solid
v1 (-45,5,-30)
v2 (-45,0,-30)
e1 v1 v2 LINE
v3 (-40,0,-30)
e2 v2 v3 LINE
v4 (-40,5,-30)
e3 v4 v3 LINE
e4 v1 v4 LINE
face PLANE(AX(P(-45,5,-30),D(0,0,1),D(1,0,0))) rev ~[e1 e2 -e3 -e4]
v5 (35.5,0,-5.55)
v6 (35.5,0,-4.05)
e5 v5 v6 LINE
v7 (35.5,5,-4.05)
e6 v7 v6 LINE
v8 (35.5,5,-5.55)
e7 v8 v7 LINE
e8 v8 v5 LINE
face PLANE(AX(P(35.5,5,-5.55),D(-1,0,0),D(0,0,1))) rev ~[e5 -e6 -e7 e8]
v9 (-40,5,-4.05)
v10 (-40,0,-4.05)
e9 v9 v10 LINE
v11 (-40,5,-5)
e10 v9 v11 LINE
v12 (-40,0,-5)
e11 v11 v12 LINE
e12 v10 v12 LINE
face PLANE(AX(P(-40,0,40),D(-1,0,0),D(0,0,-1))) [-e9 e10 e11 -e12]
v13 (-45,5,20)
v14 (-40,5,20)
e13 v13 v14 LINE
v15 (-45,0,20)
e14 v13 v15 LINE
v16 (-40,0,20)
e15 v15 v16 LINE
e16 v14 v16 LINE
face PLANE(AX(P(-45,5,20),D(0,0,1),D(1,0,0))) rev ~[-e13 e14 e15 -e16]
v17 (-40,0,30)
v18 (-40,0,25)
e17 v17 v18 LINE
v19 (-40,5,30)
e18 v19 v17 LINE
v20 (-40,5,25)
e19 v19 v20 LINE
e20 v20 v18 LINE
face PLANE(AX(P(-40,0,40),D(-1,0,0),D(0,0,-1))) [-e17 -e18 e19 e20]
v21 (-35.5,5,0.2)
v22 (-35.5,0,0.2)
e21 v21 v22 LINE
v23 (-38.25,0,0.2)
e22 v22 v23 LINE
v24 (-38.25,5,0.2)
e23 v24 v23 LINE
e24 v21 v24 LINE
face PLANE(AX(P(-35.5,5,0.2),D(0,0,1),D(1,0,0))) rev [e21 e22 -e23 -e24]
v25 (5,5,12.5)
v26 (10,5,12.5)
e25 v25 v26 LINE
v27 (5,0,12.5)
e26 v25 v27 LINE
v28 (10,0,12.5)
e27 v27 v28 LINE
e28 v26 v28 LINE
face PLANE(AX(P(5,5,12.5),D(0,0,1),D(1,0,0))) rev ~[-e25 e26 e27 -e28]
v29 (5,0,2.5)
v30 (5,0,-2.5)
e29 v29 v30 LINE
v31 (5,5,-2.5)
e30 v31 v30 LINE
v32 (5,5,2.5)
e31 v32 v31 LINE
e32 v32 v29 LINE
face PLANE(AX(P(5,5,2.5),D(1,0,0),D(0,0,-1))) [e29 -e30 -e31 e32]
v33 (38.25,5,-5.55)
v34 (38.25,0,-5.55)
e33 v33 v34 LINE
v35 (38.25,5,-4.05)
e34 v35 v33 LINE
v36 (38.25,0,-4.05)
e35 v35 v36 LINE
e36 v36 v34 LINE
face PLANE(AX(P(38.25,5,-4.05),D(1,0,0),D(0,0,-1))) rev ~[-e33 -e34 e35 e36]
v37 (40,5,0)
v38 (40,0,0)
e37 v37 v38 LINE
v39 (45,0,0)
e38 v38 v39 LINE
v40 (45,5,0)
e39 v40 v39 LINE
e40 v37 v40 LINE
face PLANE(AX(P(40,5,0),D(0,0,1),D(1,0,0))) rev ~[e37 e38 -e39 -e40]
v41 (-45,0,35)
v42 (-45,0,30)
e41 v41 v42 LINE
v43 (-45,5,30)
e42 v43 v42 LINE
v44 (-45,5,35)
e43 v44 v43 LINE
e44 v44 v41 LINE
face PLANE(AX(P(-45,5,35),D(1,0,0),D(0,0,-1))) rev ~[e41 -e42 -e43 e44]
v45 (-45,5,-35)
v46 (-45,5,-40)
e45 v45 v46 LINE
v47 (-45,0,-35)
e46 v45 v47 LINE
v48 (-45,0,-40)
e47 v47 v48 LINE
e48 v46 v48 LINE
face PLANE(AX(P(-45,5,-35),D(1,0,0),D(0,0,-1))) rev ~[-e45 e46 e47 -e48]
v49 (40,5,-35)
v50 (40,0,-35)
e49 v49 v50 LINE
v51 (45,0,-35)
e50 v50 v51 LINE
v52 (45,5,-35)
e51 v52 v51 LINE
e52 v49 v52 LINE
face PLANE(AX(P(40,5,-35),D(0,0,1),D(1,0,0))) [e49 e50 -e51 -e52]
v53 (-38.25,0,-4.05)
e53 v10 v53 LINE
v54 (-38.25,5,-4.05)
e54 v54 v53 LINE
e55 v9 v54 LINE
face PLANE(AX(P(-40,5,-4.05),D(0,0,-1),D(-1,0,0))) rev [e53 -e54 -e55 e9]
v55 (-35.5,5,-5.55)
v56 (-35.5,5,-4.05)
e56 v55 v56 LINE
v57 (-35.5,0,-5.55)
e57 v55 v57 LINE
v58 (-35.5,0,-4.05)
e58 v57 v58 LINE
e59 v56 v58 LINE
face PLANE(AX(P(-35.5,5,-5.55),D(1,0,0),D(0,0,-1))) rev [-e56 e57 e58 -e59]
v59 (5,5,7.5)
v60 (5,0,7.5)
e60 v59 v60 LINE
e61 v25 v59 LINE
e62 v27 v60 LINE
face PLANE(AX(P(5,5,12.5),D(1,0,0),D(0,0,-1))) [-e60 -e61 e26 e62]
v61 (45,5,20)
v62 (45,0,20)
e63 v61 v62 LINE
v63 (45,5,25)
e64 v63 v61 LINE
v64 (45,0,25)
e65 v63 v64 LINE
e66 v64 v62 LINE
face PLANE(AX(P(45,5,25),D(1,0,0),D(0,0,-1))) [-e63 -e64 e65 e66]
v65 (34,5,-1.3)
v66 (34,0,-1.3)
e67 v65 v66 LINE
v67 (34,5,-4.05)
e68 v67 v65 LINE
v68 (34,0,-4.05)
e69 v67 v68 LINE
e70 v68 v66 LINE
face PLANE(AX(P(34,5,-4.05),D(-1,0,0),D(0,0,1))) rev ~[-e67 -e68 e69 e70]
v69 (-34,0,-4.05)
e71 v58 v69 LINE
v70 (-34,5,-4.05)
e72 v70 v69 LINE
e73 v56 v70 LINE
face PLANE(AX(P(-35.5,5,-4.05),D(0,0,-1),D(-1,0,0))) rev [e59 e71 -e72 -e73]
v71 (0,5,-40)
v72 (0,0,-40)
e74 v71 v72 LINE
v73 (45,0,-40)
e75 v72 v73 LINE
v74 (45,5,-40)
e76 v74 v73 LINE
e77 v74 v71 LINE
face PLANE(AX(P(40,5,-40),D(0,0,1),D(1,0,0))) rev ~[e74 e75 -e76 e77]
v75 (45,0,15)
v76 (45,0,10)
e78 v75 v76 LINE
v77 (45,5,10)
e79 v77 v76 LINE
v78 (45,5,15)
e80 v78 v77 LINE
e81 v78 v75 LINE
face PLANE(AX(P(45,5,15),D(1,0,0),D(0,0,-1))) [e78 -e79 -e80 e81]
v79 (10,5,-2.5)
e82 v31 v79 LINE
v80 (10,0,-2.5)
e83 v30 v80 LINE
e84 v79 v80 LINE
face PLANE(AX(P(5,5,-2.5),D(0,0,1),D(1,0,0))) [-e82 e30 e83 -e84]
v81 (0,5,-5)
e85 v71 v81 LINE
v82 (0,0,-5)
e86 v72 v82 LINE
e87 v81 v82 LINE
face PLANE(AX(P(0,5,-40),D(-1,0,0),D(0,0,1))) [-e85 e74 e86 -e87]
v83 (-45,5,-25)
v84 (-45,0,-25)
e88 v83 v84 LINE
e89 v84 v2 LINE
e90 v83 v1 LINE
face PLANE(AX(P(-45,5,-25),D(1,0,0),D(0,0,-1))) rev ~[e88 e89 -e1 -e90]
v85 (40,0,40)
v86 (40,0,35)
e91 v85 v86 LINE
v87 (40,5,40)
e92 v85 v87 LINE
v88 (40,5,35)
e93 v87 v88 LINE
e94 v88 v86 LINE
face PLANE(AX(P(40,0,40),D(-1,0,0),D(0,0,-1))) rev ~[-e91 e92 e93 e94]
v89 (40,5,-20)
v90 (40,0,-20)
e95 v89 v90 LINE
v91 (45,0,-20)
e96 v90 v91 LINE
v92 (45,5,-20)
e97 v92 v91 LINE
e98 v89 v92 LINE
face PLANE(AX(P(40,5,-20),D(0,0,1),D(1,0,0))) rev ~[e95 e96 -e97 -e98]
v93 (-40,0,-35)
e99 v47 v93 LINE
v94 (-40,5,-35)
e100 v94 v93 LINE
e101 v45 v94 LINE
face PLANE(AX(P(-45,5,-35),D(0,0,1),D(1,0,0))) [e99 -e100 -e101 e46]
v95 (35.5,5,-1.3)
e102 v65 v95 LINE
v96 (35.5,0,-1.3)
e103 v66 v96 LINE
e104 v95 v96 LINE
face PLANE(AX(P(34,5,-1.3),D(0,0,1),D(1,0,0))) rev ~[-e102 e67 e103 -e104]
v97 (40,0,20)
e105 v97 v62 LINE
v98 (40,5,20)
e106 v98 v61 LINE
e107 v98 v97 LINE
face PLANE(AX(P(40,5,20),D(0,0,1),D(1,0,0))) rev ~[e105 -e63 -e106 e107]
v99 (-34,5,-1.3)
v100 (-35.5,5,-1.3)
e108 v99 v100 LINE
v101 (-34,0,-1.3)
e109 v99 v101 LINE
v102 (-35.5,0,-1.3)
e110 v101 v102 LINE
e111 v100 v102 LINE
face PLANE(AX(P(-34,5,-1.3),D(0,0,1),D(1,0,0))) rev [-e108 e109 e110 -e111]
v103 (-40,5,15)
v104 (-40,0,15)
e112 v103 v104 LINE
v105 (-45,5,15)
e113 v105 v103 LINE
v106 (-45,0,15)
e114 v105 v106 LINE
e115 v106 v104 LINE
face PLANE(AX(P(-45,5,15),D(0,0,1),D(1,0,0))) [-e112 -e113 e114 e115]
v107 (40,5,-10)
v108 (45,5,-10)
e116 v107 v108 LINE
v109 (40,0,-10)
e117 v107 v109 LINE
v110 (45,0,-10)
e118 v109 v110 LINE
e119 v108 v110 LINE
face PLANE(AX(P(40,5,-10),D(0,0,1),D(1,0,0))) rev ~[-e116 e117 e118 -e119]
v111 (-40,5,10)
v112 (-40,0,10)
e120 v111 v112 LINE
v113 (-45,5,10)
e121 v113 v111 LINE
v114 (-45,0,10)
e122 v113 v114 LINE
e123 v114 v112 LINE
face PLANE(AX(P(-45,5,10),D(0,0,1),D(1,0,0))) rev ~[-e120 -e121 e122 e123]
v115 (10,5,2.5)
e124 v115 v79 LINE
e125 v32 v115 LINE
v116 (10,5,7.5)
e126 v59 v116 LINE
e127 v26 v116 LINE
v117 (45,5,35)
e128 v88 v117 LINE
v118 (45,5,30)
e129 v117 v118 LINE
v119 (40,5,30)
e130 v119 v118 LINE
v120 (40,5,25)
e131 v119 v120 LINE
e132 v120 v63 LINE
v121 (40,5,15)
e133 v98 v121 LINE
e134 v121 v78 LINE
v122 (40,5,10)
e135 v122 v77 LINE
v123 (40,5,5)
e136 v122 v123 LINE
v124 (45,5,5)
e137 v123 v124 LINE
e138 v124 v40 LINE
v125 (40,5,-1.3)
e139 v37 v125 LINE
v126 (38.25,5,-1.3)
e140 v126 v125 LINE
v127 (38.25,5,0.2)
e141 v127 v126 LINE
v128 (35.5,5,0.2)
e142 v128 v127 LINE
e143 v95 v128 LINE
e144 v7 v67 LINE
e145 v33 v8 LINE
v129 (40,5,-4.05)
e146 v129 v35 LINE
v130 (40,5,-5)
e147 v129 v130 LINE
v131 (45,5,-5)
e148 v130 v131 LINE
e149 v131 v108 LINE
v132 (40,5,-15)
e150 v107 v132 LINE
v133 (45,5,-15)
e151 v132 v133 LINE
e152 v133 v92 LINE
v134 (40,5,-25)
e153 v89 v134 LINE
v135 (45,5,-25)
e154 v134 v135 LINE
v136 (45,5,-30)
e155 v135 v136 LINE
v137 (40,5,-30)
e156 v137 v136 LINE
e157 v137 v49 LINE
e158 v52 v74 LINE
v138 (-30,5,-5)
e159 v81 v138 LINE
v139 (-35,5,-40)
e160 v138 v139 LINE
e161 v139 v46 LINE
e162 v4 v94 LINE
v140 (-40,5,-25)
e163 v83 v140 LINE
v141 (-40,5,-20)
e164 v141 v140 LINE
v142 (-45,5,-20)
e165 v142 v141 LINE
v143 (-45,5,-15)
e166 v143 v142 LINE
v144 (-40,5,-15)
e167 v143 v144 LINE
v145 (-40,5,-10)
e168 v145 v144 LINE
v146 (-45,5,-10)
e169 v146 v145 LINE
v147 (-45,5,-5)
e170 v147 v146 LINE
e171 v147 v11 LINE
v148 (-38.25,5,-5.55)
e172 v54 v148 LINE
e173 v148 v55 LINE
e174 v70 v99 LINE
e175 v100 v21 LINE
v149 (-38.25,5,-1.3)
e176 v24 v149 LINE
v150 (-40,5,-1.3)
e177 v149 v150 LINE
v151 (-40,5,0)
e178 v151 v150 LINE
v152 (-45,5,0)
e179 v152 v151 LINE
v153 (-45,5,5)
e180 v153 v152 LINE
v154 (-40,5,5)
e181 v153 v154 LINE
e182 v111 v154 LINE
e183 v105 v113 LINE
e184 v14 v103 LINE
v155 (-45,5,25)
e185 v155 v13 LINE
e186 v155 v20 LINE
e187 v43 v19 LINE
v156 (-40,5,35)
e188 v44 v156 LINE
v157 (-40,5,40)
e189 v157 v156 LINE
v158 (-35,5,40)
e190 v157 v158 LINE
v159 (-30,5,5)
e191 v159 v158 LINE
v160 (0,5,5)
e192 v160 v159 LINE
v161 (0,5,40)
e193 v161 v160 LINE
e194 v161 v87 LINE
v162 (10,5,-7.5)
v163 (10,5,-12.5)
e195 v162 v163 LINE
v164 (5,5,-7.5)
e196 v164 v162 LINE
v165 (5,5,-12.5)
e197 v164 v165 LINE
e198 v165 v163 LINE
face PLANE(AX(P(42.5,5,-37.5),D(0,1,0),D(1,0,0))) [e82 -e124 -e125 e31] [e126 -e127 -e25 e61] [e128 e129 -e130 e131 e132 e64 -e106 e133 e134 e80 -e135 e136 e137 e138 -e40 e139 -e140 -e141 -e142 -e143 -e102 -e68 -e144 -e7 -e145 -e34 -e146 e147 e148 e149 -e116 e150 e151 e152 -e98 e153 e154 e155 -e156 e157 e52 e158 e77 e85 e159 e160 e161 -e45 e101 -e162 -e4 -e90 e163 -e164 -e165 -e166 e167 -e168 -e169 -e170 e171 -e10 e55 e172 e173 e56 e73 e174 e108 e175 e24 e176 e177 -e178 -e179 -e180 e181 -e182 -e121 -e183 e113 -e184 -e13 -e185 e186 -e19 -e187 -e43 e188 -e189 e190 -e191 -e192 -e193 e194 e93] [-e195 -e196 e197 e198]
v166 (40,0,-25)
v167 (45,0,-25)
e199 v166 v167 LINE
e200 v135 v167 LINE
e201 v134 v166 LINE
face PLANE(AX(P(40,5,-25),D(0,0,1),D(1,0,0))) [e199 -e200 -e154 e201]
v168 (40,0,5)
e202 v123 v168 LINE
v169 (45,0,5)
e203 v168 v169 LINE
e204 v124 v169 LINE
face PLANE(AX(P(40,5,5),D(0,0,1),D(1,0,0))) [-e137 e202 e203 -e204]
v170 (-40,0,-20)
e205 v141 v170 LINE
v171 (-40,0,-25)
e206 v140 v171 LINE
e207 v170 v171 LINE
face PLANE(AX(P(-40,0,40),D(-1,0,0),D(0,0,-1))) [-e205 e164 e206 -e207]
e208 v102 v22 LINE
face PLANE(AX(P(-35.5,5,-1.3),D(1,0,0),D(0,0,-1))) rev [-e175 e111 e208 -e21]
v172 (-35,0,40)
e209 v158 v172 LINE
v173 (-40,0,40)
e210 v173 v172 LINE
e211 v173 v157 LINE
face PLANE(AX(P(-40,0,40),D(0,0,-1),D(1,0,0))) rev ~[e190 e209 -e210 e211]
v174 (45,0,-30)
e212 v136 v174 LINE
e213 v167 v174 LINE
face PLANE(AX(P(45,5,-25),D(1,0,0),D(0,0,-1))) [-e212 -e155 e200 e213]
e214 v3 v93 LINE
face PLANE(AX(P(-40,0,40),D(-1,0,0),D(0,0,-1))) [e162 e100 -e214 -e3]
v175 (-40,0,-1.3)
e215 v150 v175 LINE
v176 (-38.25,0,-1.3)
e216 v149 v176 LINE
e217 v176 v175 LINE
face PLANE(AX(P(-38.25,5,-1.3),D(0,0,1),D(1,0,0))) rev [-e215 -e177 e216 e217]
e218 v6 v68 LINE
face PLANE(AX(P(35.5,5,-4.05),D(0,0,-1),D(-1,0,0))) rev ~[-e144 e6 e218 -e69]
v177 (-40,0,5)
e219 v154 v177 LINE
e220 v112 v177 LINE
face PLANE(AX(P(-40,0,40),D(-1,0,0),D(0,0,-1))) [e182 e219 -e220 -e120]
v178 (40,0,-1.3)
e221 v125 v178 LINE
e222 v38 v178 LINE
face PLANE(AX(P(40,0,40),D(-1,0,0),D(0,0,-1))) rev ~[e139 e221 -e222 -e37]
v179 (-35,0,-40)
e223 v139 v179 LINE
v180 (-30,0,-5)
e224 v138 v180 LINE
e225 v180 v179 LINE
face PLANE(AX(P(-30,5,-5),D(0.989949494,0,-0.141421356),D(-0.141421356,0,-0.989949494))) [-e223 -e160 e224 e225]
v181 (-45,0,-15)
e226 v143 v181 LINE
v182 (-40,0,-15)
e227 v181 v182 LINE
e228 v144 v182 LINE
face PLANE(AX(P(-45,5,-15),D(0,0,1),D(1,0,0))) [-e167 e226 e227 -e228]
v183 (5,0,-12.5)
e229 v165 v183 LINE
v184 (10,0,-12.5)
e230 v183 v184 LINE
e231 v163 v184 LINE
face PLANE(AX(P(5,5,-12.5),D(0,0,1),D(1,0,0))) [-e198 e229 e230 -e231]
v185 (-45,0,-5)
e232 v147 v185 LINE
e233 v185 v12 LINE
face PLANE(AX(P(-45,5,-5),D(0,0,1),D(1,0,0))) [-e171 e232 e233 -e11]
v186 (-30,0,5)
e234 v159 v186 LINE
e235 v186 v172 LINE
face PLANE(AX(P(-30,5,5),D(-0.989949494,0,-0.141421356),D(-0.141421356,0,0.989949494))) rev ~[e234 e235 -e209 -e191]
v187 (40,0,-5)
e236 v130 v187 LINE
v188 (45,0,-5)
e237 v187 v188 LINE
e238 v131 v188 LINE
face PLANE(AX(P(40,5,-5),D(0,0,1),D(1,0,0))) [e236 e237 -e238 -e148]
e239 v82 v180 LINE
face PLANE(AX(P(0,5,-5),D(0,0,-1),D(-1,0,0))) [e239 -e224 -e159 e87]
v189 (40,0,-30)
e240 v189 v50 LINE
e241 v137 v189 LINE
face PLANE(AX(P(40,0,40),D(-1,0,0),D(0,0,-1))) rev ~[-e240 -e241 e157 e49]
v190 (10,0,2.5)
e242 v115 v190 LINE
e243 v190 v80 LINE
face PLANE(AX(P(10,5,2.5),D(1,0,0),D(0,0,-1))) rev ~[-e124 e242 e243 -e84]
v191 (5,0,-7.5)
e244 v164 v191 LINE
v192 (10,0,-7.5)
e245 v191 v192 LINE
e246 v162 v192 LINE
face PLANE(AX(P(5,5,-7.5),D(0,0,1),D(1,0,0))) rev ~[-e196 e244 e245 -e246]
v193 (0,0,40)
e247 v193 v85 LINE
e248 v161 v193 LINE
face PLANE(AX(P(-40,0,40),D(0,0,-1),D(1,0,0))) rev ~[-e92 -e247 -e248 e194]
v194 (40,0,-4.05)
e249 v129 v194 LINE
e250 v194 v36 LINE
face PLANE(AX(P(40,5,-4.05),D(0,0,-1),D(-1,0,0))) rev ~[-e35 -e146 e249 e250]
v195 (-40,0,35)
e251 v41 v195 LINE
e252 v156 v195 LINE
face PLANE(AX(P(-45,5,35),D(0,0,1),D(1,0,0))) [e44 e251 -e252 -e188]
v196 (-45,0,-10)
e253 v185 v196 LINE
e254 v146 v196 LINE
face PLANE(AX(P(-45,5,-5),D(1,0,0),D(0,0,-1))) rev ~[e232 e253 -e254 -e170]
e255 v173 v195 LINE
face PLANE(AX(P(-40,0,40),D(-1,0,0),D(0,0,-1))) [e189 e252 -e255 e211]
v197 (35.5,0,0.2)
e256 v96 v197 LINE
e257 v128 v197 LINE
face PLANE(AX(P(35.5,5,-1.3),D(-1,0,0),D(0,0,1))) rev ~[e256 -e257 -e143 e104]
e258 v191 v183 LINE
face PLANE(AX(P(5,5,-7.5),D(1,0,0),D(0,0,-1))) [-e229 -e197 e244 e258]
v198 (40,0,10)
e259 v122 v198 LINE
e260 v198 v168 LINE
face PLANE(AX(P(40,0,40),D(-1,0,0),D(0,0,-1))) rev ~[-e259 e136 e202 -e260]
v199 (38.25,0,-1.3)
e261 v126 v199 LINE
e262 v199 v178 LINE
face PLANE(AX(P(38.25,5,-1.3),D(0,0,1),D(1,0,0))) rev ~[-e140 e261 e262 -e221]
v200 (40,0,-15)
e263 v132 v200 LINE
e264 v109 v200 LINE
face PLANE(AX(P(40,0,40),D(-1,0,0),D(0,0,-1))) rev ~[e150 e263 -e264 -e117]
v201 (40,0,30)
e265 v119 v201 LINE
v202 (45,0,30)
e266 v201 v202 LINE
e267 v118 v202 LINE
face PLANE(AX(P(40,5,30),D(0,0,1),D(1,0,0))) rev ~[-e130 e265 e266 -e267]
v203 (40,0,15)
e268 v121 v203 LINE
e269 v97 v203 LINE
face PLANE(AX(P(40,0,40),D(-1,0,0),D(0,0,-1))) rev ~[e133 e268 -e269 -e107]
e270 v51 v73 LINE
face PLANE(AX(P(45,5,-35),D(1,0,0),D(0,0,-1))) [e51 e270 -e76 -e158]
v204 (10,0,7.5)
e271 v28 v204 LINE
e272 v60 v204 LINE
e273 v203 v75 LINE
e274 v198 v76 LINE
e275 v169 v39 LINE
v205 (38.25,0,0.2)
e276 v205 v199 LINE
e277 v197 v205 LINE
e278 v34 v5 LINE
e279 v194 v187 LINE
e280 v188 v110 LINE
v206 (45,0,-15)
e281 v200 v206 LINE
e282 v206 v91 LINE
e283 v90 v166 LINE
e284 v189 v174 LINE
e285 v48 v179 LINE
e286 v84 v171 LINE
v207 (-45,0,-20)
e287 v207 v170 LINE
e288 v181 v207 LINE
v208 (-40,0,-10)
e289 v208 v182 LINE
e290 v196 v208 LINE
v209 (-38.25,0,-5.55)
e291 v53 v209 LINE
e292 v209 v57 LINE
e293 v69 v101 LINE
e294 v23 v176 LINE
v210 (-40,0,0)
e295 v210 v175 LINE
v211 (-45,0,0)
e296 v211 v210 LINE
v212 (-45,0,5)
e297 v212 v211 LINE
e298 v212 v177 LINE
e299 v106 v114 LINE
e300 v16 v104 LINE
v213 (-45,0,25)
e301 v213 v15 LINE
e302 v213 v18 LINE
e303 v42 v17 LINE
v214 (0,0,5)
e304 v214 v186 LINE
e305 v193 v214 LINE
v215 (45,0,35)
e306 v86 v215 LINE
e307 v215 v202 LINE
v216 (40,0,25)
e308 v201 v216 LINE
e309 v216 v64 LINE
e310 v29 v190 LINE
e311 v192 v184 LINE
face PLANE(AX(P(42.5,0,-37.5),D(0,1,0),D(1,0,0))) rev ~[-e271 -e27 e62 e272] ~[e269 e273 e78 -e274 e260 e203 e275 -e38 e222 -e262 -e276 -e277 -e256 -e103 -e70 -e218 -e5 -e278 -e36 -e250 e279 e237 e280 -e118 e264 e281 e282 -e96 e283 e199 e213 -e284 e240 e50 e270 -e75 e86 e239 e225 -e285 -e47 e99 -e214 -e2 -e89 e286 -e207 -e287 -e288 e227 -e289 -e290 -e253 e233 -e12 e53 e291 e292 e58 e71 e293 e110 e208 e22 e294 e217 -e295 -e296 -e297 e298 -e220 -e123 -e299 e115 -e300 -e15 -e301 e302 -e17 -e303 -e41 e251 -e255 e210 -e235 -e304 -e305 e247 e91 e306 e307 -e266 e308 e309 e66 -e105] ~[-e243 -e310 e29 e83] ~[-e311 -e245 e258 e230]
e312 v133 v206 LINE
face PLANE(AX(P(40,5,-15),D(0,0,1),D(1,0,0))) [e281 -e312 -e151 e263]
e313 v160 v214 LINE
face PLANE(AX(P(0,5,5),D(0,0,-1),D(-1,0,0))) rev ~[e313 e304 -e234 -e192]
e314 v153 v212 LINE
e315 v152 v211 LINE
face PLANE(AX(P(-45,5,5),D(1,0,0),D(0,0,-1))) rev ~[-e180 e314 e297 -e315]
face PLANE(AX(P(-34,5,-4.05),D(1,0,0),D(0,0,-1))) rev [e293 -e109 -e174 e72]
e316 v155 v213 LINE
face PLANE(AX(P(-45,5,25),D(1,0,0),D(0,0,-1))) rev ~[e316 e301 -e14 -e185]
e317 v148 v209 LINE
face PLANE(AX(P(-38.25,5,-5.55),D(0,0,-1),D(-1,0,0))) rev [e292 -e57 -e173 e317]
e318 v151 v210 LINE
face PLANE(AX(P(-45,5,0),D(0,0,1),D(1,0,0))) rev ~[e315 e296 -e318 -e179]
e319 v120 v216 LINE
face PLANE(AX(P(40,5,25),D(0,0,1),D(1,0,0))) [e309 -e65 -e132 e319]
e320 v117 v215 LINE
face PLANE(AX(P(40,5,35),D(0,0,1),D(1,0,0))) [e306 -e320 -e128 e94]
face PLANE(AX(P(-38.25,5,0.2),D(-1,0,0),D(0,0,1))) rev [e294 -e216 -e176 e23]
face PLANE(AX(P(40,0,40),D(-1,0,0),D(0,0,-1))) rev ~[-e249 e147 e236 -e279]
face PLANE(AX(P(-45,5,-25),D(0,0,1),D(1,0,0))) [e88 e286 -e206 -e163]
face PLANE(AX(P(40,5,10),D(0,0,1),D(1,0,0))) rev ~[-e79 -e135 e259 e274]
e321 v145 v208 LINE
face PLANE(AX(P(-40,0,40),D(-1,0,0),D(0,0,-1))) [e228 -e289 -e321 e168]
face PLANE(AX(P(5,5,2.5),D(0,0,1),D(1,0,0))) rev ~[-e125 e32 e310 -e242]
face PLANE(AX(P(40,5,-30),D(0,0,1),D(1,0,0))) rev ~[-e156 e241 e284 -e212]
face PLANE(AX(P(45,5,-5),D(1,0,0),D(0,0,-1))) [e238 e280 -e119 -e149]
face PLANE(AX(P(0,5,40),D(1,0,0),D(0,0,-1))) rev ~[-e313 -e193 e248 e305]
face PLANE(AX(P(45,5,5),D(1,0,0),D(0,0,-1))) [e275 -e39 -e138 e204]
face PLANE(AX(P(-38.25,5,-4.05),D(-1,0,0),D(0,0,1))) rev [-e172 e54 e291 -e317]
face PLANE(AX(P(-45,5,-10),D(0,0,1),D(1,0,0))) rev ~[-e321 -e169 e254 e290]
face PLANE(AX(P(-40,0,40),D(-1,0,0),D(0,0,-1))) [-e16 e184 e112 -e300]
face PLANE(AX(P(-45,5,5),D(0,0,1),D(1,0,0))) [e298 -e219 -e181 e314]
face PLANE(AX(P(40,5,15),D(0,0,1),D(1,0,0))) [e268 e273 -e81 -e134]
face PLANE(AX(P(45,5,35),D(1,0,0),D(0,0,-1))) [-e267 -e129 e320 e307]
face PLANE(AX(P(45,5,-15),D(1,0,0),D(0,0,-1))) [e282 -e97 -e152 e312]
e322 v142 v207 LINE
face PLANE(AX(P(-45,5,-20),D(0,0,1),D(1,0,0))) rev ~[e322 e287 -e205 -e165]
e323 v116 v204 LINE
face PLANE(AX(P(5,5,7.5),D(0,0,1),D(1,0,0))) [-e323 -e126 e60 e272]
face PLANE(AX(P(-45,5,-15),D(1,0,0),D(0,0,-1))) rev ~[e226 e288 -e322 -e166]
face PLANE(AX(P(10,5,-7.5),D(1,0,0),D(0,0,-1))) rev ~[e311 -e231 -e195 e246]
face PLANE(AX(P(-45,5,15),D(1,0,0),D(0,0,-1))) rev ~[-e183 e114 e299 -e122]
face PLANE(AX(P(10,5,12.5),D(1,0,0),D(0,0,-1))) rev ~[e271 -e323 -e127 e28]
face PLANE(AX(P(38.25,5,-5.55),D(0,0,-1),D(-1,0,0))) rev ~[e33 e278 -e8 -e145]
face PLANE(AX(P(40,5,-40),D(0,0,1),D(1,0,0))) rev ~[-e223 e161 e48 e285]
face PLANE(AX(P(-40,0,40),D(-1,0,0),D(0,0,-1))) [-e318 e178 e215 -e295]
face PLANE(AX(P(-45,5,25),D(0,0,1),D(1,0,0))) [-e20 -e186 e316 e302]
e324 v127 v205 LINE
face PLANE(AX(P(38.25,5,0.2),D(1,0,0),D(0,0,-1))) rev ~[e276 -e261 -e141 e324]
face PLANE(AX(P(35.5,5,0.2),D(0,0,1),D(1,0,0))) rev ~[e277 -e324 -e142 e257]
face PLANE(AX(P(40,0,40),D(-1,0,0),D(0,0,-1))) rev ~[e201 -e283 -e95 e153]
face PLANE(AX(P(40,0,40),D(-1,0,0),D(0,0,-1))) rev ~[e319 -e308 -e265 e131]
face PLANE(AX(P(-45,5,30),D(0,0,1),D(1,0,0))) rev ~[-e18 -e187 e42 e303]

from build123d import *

# Parameters (mm, degrees)
ESQUISSE1_W                     = 80
ESQUISSE1_H                     = 80
BOSS_EXTRU_1_DEPTH              = 5
ESQUISSE2_W                     = 5
ESQUISSE2_H                     = 5
BOSS_EXTRU_2_DEPTH              = 5
R_P_TITION_LIN_AIRE1_COUNT      = 2
R_P_TITION_LIN_AIRE1_PITCH      = 85
R_P_TITION_LIN_AIRE1_COUNT_DIR2 = 8
R_P_TITION_LIN_AIRE1_PITCH_DIR2 = 10
ENL_V_MAT_EXTRU_1_DEPTH         = 10
ESQUISSE9_W                     = 5
ESQUISSE9_H                     = 5
ENL_V_MAT_EXTRU_6_DEPTH         = 10
R_P_TITION_LIN_AIRE4_COUNT      = 2
R_P_TITION_LIN_AIRE4_PITCH      = 10
R_P_TITION_LIN_AIRE4_COL_COUNT  = 2
R_P_TITION_LIN_AIRE4_COL_PITCH  = 10
ENL_V_MAT_EXTRU_7_DEPTH         = 10


with BuildPart() as part:
    # Esquisse1 → Boss.-Extru.1 (new body)
    with BuildSketch(Plane(origin=(0, 0, 0), x_dir=(1, 0, 0), z_dir=(0, 1, 0))):
        Rectangle(ESQUISSE1_W, ESQUISSE1_H)
    extrude(amount=BOSS_EXTRU_1_DEPTH)

    # Esquisse2 → Boss.-Extru.2 (add)
    with BuildSketch(Plane(origin=(0, 5, 0), x_dir=(1, 0, 0), z_dir=(0, 1, 0))):
        with Locations((-42.5, 37.5)):
            Rectangle(ESQUISSE2_W, ESQUISSE2_H)
    boss_extru_2 = extrude(amount=-BOSS_EXTRU_2_DEPTH)

    # Répétition linéaire1: Boss.-Extru.2 2 × 8
    with Locations(*[(i * R_P_TITION_LIN_AIRE1_PITCH, 0, j * R_P_TITION_LIN_AIRE1_PITCH_DIR2) for i in range(R_P_TITION_LIN_AIRE1_COUNT) for j in range(R_P_TITION_LIN_AIRE1_COUNT_DIR2) if (i, j) != (0, 0)]):
        add(boss_extru_2)

    # Esquisse3 → Enlèv. mat.-Extru.1 (cut)
    with BuildSketch(Plane(origin=(0, 5, 0), x_dir=(1, 0, 0), z_dir=(0, 1, 0))):
        Polygon((40, 4.05), (38.25, 4.05), (38.25, 5.55), (35.5, 5.55), (35.5, 4.05), (34, 4.05), (34, 1.3), (35.5, 1.3), (35.5, -0.2), (38.25, -0.2), (38.25, 1.3), (40, 1.3), align=None)
    enl_v_mat_extru_1 = extrude(amount=-ENL_V_MAT_EXTRU_1_DEPTH, mode=Mode.SUBTRACT)

    # Esquisse9 → Enlèv. mat.-Extru.6 (cut)
    with BuildSketch(Plane(origin=(0, 5, 0), x_dir=(1, 0, 0), z_dir=(0, 1, 0))):
        with Locations((7.5, 0)):
            Rectangle(ESQUISSE9_W, ESQUISSE9_H)
    enl_v_mat_extru_6 = extrude(amount=-ENL_V_MAT_EXTRU_6_DEPTH, mode=Mode.SUBTRACT)

    # Répétition linéaire4: Enlèv. mat.-Extru.6 ×2
    with Locations(*[(0, 0, -i * R_P_TITION_LIN_AIRE4_PITCH) for i in range(1, R_P_TITION_LIN_AIRE4_COUNT)]):
        add(enl_v_mat_extru_6, mode=Mode.SUBTRACT)

    # Répétition linéaire4 col: Enlèv. mat.-Extru.6 ×2
    with Locations(*[(0, 0, i * R_P_TITION_LIN_AIRE4_COL_PITCH) for i in range(1, R_P_TITION_LIN_AIRE4_COL_COUNT)]):
        add(enl_v_mat_extru_6, mode=Mode.SUBTRACT)

    # Symétrie3: Enlèv. mat.-Extru.1 across plane
    add(enl_v_mat_extru_1.mirror(Plane(origin=(0, 0, 0), x_dir=(0, 0, 1), z_dir=(1, 0, 0))), mode=Mode.SUBTRACT)

    # Esquisse7 → Enlèv. mat.-Extru.7 (cut)
    with BuildSketch(Plane(origin=(0, 5, 0), x_dir=(1, 0, 0), z_dir=(0, 1, 0))):
        Polygon((-35, 40), (0, 40), (0, 5), (-30, 5), align=None)
        Polygon((-35, -40), (0, -40), (0, -5), (-30, -5), align=None)
    extrude(amount=-ENL_V_MAT_EXTRU_7_DEPTH, mode=Mode.SUBTRACT)


solid = part.part
